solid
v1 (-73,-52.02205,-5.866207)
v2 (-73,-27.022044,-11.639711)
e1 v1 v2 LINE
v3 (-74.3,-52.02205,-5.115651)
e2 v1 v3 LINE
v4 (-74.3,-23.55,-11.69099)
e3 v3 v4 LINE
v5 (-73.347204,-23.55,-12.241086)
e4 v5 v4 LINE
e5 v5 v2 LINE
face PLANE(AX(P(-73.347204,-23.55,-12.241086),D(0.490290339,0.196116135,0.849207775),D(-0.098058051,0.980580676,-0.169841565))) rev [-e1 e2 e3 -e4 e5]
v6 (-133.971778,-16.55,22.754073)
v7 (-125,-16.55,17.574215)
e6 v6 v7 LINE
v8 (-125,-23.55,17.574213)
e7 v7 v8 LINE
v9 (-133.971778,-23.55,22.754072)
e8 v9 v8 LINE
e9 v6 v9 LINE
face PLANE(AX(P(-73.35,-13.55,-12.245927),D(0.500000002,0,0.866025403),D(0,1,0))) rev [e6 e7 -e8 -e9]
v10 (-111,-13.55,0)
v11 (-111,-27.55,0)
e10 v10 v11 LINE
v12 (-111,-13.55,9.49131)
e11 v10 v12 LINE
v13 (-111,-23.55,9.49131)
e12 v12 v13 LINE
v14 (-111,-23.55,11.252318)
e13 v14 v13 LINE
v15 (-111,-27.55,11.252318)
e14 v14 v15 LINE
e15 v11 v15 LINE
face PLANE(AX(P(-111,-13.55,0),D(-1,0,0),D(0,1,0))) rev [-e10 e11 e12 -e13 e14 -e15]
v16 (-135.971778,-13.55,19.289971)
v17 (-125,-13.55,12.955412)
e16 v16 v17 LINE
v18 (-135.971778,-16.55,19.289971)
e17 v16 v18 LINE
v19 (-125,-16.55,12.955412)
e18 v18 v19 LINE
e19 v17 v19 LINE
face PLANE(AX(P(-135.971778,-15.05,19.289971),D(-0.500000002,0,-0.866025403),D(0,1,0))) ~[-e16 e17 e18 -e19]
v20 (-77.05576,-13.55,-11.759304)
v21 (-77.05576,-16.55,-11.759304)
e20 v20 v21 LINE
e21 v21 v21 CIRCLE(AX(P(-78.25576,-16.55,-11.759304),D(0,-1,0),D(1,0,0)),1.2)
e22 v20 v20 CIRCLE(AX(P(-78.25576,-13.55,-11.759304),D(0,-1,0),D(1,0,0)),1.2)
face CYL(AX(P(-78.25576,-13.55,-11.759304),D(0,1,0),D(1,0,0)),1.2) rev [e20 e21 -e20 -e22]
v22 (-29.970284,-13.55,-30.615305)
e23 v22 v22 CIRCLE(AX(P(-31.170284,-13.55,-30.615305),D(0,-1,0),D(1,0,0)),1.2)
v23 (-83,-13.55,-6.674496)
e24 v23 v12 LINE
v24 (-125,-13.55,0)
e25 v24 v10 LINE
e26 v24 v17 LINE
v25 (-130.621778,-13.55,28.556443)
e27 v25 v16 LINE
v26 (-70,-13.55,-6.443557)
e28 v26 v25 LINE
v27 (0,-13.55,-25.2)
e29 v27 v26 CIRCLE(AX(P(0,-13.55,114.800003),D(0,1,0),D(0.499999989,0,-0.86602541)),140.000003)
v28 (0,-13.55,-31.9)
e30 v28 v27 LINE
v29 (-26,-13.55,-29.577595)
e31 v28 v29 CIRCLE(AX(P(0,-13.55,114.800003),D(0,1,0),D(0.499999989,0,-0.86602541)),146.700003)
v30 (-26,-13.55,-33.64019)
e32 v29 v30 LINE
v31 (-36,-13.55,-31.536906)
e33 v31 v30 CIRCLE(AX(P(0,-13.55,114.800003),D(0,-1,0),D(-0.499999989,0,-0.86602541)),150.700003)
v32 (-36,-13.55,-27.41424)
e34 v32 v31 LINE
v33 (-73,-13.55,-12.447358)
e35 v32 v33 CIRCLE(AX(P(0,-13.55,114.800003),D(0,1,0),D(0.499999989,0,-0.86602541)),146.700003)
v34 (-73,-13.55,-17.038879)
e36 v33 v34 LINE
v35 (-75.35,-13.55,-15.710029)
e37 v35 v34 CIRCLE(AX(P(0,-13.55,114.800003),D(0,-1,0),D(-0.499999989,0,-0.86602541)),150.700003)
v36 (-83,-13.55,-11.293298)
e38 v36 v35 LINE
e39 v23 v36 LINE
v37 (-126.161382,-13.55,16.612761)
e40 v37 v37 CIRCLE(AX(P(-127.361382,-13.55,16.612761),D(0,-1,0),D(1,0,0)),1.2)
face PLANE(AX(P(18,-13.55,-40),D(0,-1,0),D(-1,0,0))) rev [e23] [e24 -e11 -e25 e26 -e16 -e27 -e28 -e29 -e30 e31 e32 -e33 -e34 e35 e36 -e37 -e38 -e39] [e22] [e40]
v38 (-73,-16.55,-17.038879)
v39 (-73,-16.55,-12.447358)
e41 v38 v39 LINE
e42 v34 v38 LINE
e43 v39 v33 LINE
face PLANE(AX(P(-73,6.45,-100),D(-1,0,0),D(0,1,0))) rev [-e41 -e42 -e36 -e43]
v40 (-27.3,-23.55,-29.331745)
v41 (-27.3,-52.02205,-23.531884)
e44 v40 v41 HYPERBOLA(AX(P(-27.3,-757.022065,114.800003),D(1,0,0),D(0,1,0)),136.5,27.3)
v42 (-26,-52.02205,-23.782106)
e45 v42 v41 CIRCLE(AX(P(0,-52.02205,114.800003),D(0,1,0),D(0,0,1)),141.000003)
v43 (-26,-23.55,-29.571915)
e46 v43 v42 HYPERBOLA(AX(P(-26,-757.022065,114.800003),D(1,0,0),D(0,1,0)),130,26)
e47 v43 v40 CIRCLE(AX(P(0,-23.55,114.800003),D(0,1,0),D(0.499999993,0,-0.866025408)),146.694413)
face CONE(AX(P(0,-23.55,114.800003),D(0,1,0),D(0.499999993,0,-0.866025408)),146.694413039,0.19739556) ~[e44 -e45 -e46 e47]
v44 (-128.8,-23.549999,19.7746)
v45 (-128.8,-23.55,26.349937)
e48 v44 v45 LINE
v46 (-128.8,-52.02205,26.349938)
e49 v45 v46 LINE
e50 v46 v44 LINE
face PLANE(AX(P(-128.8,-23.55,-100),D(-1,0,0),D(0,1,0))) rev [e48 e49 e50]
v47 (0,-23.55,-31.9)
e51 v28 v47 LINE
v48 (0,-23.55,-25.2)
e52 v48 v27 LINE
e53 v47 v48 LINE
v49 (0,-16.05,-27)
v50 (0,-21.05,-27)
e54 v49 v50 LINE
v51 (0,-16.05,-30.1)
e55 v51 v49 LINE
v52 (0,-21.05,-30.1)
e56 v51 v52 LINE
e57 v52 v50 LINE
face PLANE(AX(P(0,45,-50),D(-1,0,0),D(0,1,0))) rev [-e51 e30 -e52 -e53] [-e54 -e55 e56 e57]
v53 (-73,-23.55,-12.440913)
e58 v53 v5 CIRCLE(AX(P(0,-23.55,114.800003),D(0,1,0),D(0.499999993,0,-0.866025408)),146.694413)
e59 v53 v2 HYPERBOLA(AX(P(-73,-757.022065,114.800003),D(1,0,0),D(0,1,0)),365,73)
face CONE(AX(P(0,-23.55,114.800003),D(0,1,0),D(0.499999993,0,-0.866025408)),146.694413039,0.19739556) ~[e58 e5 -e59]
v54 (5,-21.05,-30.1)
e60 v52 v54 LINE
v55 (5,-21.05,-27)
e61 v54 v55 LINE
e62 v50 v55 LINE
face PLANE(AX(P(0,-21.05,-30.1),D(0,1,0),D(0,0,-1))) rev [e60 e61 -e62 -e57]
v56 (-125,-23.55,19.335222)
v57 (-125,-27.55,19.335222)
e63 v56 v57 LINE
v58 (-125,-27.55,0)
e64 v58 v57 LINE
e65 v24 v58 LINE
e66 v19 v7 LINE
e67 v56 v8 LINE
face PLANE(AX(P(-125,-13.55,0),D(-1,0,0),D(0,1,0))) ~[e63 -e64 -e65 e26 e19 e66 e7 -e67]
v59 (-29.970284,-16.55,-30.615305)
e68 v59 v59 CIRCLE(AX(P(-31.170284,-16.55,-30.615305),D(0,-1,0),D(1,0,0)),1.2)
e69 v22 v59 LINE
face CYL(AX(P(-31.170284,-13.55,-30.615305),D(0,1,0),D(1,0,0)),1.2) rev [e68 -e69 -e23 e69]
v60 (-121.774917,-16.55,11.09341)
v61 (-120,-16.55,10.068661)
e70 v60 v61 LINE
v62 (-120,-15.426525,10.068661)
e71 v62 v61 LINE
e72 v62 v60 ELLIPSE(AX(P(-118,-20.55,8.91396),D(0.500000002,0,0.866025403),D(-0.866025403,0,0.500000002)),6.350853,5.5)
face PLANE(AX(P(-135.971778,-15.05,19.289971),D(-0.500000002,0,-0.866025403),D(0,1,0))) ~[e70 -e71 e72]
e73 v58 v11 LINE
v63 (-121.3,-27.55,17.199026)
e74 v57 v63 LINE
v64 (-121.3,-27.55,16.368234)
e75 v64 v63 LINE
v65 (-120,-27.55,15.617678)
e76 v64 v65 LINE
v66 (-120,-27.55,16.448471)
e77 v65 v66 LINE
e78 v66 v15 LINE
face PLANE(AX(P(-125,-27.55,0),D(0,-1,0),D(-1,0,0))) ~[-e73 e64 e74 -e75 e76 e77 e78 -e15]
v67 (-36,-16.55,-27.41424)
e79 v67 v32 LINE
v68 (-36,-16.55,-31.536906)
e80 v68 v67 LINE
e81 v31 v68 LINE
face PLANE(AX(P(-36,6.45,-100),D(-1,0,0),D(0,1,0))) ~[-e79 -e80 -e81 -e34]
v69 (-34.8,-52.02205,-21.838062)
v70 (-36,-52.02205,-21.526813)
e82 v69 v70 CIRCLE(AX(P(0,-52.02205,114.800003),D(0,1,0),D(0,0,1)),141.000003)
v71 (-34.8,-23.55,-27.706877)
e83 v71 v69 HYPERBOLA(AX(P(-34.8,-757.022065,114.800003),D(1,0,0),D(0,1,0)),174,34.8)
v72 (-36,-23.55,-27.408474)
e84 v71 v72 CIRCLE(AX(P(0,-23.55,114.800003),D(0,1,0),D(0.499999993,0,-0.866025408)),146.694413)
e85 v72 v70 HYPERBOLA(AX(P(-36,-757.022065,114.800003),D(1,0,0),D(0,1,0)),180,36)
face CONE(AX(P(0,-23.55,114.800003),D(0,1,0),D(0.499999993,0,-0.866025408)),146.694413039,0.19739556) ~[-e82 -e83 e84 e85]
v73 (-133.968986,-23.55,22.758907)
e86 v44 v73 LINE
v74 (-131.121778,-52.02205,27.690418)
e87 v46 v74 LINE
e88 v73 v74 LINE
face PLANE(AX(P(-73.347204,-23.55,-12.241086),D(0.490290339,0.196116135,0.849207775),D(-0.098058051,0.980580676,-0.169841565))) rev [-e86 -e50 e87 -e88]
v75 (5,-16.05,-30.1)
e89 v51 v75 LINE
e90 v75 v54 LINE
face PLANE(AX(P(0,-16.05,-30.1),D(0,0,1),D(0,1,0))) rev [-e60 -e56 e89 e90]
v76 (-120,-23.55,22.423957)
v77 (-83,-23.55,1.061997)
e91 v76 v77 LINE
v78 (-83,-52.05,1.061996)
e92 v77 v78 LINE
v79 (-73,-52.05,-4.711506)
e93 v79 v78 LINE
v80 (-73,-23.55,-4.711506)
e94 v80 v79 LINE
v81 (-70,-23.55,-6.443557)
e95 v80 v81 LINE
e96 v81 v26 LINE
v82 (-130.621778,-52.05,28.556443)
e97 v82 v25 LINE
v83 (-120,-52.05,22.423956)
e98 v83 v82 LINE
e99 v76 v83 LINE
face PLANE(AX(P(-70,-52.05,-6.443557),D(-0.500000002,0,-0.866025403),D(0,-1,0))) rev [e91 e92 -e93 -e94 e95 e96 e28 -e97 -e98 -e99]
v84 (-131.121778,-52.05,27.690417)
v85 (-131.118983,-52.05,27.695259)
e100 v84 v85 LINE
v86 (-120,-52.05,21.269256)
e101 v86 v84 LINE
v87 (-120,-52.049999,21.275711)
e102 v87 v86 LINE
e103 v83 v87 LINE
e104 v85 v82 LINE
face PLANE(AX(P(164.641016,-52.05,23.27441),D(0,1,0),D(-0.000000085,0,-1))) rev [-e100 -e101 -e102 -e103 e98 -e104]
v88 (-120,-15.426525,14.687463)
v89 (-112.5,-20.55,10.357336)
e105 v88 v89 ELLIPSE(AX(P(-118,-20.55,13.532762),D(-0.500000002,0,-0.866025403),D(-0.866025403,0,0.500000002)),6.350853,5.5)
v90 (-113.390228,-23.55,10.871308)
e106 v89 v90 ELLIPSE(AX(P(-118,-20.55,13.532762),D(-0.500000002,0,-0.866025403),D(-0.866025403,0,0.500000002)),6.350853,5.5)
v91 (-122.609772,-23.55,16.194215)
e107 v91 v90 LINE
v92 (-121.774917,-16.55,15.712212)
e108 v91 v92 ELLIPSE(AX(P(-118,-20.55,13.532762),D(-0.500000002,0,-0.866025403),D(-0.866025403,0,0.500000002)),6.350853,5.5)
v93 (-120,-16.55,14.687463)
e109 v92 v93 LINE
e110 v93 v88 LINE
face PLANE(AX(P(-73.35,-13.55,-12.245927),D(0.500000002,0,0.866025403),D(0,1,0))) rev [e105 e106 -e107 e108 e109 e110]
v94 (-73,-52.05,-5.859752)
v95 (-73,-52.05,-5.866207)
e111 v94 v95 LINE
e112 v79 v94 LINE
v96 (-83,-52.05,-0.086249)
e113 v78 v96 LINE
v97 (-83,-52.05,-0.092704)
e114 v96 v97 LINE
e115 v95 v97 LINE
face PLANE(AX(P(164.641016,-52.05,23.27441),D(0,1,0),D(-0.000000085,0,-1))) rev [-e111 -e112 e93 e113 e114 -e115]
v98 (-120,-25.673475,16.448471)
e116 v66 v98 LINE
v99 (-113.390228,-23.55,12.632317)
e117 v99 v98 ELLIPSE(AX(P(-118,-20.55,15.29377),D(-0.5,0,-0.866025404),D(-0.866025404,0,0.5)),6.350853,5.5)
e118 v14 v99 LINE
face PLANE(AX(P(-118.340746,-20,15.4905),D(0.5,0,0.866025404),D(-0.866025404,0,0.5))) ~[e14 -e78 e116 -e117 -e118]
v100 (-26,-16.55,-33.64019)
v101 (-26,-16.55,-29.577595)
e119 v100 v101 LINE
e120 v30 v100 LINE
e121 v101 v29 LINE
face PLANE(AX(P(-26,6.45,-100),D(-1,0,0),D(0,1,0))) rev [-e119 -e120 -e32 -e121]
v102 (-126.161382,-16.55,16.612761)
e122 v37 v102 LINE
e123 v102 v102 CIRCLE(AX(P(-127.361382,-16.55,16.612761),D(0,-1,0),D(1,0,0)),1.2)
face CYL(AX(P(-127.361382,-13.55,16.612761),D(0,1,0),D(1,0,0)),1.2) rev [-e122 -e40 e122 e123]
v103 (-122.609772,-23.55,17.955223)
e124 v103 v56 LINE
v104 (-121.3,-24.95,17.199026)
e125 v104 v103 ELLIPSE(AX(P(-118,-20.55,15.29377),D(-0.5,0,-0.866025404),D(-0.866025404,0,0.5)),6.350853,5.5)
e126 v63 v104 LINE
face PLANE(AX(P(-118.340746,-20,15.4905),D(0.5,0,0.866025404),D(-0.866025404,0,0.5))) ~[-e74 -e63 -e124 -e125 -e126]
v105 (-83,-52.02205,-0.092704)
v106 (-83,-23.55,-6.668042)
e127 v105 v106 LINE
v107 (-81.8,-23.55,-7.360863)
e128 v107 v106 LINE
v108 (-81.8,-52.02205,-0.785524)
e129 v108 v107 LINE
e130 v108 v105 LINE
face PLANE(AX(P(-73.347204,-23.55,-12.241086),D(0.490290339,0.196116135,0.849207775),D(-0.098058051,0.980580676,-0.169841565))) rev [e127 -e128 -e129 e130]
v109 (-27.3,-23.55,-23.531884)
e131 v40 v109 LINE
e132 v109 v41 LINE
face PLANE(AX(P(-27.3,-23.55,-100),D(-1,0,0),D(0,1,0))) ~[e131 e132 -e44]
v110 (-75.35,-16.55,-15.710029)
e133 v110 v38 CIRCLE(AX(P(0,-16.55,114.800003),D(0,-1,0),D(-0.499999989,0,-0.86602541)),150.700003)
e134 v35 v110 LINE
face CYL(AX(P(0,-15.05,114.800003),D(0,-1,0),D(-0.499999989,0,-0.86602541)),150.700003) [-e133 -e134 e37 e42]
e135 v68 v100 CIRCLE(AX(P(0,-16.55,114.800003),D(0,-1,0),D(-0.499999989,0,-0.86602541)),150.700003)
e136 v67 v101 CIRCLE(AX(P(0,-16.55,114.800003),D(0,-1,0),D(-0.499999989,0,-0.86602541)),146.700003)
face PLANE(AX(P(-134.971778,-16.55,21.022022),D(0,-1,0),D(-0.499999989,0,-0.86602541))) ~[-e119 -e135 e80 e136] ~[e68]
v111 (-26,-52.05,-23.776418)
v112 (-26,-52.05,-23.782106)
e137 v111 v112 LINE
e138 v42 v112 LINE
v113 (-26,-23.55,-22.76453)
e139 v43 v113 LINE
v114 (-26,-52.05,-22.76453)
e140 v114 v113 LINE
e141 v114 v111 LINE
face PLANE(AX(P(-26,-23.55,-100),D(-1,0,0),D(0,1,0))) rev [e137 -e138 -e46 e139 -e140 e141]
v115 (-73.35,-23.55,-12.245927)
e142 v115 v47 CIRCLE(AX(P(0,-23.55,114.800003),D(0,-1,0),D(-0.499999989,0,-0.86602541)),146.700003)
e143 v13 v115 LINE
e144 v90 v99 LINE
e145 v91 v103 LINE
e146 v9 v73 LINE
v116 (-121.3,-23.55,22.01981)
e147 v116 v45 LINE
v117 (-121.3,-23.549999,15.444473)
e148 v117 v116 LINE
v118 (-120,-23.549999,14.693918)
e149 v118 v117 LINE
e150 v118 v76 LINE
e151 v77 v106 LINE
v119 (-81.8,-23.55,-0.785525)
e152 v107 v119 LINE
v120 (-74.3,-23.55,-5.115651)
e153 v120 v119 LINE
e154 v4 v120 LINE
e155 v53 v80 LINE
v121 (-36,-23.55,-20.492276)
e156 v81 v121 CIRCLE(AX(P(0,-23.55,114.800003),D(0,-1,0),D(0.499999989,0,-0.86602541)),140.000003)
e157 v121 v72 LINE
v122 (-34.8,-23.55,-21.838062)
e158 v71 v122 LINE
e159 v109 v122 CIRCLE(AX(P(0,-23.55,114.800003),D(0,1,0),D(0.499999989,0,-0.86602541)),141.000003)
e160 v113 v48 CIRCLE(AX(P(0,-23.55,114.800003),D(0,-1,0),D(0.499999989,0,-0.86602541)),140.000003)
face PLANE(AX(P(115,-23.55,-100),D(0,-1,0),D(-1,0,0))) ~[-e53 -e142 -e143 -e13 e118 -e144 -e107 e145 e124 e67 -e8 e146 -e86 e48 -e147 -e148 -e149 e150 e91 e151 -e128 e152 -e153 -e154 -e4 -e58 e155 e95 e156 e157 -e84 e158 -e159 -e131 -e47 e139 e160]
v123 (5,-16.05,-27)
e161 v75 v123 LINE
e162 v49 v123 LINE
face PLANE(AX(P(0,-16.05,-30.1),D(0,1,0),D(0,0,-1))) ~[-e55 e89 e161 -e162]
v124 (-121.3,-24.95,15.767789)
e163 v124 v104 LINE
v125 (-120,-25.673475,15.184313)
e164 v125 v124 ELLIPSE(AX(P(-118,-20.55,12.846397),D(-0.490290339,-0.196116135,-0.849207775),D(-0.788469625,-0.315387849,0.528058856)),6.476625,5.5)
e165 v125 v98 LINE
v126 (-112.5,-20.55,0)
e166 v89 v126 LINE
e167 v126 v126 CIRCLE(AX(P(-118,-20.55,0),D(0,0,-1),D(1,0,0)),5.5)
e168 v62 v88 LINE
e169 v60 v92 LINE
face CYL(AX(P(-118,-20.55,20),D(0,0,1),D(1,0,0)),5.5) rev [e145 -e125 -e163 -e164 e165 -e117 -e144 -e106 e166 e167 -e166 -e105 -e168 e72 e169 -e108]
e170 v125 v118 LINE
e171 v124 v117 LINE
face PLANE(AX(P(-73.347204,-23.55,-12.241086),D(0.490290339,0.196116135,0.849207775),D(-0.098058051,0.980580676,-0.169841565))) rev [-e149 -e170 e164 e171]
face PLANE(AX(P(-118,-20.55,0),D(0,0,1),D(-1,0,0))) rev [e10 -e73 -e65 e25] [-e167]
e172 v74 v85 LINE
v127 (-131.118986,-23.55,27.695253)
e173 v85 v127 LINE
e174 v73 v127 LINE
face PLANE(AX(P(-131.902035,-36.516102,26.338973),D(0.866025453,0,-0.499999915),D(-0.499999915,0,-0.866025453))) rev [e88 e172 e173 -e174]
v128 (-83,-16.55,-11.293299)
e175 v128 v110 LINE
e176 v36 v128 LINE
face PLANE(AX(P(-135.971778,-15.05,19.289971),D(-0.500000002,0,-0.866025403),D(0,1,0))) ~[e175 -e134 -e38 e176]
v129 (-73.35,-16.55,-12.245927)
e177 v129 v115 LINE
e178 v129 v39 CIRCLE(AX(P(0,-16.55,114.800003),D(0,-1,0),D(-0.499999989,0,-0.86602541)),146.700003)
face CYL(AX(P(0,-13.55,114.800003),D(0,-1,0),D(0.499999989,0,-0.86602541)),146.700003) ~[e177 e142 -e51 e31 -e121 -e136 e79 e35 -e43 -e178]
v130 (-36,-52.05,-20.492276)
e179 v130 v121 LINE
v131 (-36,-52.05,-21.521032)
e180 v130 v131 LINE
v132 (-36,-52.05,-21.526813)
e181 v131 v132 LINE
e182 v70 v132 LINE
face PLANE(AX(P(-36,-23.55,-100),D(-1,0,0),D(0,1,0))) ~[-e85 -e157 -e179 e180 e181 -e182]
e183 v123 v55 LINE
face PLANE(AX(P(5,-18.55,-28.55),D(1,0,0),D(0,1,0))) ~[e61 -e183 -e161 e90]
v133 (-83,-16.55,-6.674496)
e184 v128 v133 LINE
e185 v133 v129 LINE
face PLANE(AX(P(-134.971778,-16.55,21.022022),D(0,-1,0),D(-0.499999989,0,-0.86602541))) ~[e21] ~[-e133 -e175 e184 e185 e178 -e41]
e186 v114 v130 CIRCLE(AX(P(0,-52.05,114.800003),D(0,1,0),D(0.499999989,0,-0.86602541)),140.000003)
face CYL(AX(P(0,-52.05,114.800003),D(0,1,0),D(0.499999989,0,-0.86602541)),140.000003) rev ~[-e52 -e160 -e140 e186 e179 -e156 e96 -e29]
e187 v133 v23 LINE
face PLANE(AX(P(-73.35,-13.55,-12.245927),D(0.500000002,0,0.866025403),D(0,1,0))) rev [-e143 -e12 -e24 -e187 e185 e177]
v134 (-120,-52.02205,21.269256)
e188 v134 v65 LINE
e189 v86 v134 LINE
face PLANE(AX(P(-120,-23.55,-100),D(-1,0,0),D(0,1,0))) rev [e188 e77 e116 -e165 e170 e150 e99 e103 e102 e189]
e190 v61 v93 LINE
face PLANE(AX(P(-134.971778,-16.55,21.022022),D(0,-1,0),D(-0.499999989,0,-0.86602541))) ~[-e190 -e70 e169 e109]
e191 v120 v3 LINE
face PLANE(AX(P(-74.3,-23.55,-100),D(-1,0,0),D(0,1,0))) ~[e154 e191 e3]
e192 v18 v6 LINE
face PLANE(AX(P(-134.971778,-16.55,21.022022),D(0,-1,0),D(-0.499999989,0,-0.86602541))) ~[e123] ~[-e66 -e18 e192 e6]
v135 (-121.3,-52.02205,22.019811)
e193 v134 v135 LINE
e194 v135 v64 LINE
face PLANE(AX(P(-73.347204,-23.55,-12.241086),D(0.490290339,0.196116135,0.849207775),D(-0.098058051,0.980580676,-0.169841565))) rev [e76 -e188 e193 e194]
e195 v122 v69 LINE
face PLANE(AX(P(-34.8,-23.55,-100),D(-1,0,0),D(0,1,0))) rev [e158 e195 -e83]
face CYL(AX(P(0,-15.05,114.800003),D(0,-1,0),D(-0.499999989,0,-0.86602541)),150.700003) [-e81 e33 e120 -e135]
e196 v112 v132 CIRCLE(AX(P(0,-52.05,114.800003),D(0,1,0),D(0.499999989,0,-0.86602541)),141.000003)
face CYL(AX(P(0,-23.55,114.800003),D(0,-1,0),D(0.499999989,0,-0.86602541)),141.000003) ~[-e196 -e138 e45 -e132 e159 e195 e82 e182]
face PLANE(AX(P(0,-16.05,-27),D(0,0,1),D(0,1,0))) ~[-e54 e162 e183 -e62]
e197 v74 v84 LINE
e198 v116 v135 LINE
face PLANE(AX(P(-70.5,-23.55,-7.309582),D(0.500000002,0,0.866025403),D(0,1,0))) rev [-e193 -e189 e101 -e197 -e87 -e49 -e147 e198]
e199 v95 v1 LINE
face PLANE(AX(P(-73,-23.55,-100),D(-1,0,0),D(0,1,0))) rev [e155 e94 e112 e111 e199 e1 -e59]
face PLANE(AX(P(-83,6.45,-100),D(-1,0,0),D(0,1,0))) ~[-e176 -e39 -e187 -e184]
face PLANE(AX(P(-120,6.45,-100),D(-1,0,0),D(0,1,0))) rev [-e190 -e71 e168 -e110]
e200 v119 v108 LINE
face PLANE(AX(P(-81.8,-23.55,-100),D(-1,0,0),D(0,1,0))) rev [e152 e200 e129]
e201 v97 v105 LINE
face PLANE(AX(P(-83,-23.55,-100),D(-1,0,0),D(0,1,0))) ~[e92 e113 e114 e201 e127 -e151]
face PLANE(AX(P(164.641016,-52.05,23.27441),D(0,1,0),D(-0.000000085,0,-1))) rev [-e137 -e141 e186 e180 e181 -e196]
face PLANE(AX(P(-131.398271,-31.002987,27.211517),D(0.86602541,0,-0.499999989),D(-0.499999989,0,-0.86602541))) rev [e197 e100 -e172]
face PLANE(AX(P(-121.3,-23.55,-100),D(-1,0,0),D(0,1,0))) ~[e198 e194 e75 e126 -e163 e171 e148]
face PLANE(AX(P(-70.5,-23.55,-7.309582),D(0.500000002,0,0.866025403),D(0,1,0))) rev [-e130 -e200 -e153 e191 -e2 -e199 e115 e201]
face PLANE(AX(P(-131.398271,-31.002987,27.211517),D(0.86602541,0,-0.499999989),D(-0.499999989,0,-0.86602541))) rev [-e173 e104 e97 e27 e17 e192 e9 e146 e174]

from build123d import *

# Parameters (mm, degrees)
BOX010_W               = 200
BOX010_H               = 100
BOX010_DEPTH           = 100
BOX008_W               = 20
BOX008_H               = 20
BOX008_DEPTH           = 20
BOX008_PLACEMENT_ANGLE = 30
BOX011_W               = 14
BOX011_H               = 14
BOX011_DEPTH           = 20
SKETCH039_R            = 5.5
POCKET007_DEPTH        = 20.001
BOX014_W               = 7.5
BOX014_H               = 60
BOX014_DEPTH           = 200
ARRAY002_X_COUNT       = 7
ARRAY002_X_PITCH       = 47
BOX006_W               = 37
BOX006_H               = 60
BOX006_DEPTH           = 200
ARRAY_X_COUNT          = 6
ARRAY_X_PITCH          = 47
BOX012_W               = 14
BOX012_H               = 14
BOX012_DEPTH           = 12
SKETCH032_R            = 5.5
POCKET009_DEPTH        = 12.001
BOX013_W               = 14
BOX013_H               = 14
BOX013_DEPTH           = 12
SKETCH034_R            = 5.5
POCKET008_DEPTH        = 12.001
BOX009_W               = 37
BOX009_H               = 60
BOX009_DEPTH           = 200
ARRAY001_X_COUNT       = 6
ARRAY001_X_PITCH       = 47
SKETCH035_W            = 3
SKETCH035_H            = 4
SKETCH036_R            = 1.2
POCKET006_DEPTH        = 3.001
SKETCH037_W            = 5
SKETCH037_H            = 3.1
PAD022_DEPTH           = 5


with BuildPart() as bigleft:
    # Box010 → Box010 (new body)
    with BuildSketch(Plane(origin=(0, -50, -50), x_dir=(1, 0, 0), z_dir=(0, 0, 1))):
        with Locations((100, 50)):
            Rectangle(BOX010_W, BOX010_H)
    extrude(amount=BOX010_DEPTH)


with BuildPart() as pillar_cut_cube_l:
    # Box008 → Box008 (new body)
    with BuildSketch(Plane.XY):
        with Locations((10, 10)):
            Rectangle(BOX008_W, BOX008_H)
    extrude(amount=BOX008_DEPTH)


with BuildPart() as pillar_cut_cube_l_1:
    # Box008 placement: moved
    add(pillar_cut_cube_l.part.moved(Location((-127.001, 5, 20.4905))).rotate(Axis((-127.001, 5, 20.4905), (0, 1, 0)), BOX008_PLACEMENT_ANGLE))


with BuildPart() as cut011:
    # Box011 → Box011 (new body)
    with BuildSketch(Plane(origin=(-125, 8.55, 0), x_dir=(1, 0, 0), z_dir=(0, 0, 1))):
        with Locations((7, 7)):
            Rectangle(BOX011_W, BOX011_H)
    extrude(amount=BOX011_DEPTH)

    # Sketch039 → Pocket007 (cut, through all)
    with BuildSketch(Plane(origin=(-125, 8.55, 20), x_dir=(1, 0, 0), z_dir=(0, 0, 1))):
        with Locations((7, 7)):
            Circle(SKETCH039_R)
    extrude(amount=-POCKET007_DEPTH, mode=Mode.SUBTRACT)

    # Cut011: cut pillar_cut_cube_l
    add(pillar_cut_cube_l_1.part, mode=Mode.SUBTRACT)


with BuildPart() as array002:
    # Box014 → Box014 (new body)
    with BuildSketch(Plane(origin=(-128.8, 18.55, -100), x_dir=(1, 0, 0), z_dir=(0, 0, 1))):
        with Locations((3.75, 30)):
            Rectangle(BOX014_W, BOX014_H)
    extrude(amount=BOX014_DEPTH)

    # Array002 X: Array002 ×7


with BuildPart() as array002_1:
    add(array002.part)
    with Locations(*[(i * ARRAY002_X_PITCH, 0, 0) for i in range(1, ARRAY002_X_COUNT)]):
        add(array002.part)


with BuildPart() as rail_cut_cube_array_b:
    # Box006 → Box006 (new body)
    with BuildSketch(Plane(origin=(-120, 18.55, -100), x_dir=(1, 0, 0), z_dir=(0, 0, 1))):
        with Locations((18.5, 30)):
            Rectangle(BOX006_W, BOX006_H)
    extrude(amount=BOX006_DEPTH)

    # Array X: rail_cut_cube_array_b ×6


with BuildPart() as rail_cut_cube_array_b_1:
    add(rail_cut_cube_array_b.part)
    with Locations(*[(i * ARRAY_X_PITCH, 0, 0) for i in range(1, ARRAY_X_COUNT)]):
        add(rail_cut_cube_array_b.part)


with BuildPart() as cut013:
    # Sweep002: sweep along a path in Sketch028
    with BuildLine(Plane.XZ) as sweep002_path:
        Line((164.641016, 24.27441), (144.641016, 24.27441))
        ThreePointArc((144.641016, 24.27441), (123.935493, 21.548477), (104.641016, 13.556443))
        Line((104.641016, 13.556443), (70, -6.443557))
        ThreePointArc((70, -6.443557), (0, -25.2), (-70, -6.443557))
        Line((-70, -6.443557), (-130.621778, 28.556443))
    # Sketch043 → Sweep002 (sweep)
    with BuildSketch(Plane.YZ.offset(164.641016)):
        Polygon((18.55, 17.58), (47.05, 23.28), (18.55, 23.28), align=None)
    sweep(path=sweep002_path.line)

    # Cut012: cut rail_cut_cube_array_b
    add(rail_cut_cube_array_b_1.part, mode=Mode.SUBTRACT)

    # Cut013: cut Array002
    add(array002_1.part, mode=Mode.SUBTRACT)


with BuildPart() as rail_cut_b:
    # Sweep: sweep along a path in Sketch028
    with BuildLine(Plane.XZ) as sweep_path:
        Line((164.641016, 24.27441), (144.641016, 24.27441))
        ThreePointArc((144.641016, 24.27441), (123.935493, 21.548477), (104.641016, 13.556443))
        Line((104.641016, 13.556443), (70, -6.443557))
        ThreePointArc((70, -6.443557), (0, -25.2), (-70, -6.443557))
        Line((-70, -6.443557), (-130.621778, 28.556443))
    # Sketch029 → Sweep (sweep)
    with BuildSketch(Plane.YZ):
        Polygon((-19.25, -25.2), (-19.25, -31.9), (-9.25, -31.9), (-9.25, -26.2), (19.25, -26.2), (19.25, -25.2), align=None)
    sweep(path=sweep_path.line)


with BuildPart() as rail_cut_b_1:
    # Sweep placement: moved
    add(rail_cut_b.part.moved(Location((0, 27.8, 0))))

    # Cut007: cut rail_cut_cube_array_b
    add(rail_cut_cube_array_b_1.part, mode=Mode.SUBTRACT)


with BuildPart() as pillar_hollow_r:
    # Box012 → Box012 (new body)
    with BuildSketch(Plane(origin=(143, 8.55, 7), x_dir=(1, 0, 0), z_dir=(0, 0, 1))):
        with Locations((7, 7)):
            Rectangle(BOX012_W, BOX012_H)
    extrude(amount=BOX012_DEPTH)

    # Sketch032 → Pocket009 (cut, through all)
    with BuildSketch(Plane(origin=(143, 8.55, 19), x_dir=(1, 0, 0), z_dir=(0, 0, 1))):
        with Locations((7, 7)):
            Circle(SKETCH032_R)
    extrude(amount=-POCKET009_DEPTH, mode=Mode.SUBTRACT)


with BuildPart() as pillar_hollow_m:
    # Box013 → Box013 (new body)
    with BuildSketch(Plane(origin=(18, 8.55, -40), x_dir=(1, 0, 0), z_dir=(0, 0, 1))):
        with Locations((7, 7)):
            Rectangle(BOX013_W, BOX013_H)
    extrude(amount=BOX013_DEPTH)

    # Sketch034 → Pocket008 (cut, through all)
    with BuildSketch(Plane(origin=(18, 8.55, -28), x_dir=(1, 0, 0), z_dir=(0, 0, 1))):
        with Locations((7, 7)):
            Circle(SKETCH034_R)
    extrude(amount=-POCKET008_DEPTH, mode=Mode.SUBTRACT)


with BuildPart() as mount_cube_array_b:
    # Box009 → Box009 (new body)
    with BuildSketch(Plane(origin=(-120, 18.55, -100), x_dir=(1, 0, 0), z_dir=(0, 0, 1))):
        with Locations((18.5, 30)):
            Rectangle(BOX009_W, BOX009_H)
    extrude(amount=BOX009_DEPTH)

    # Array001 X: mount_cube_array_b ×6


with BuildPart() as mount_cube_array_b_1:
    add(mount_cube_array_b.part)
    with Locations(*[(i * ARRAY001_X_PITCH, 0, 0) for i in range(1, ARRAY001_X_COUNT)]):
        add(mount_cube_array_b.part)


with BuildPart() as mount_cube_array_b_2:
    # Array001 placement: moved
    add(mount_cube_array_b_1.part.moved(Location((0, -30, 0))))


with BuildPart() as cut014:
    # Sweep001: sweep along a path in Sketch028
    with BuildLine(Plane.XZ) as sweep001_path:
        Line((-130.621778, 28.556443), (-70, -6.443557))
        ThreePointArc((-70, -6.443557), (0, -25.2), (70, -6.443557))
        Line((70, -6.443557), (104.641016, 13.556443))
        ThreePointArc((104.641016, 13.556443), (123.935493, 21.548477), (144.641016, 24.27441))
        Line((144.641016, 24.27441), (164.641016, 24.27441))
    # Sketch035 → Sweep001 (sweep)
    with BuildSketch(Plane.YZ):
        with Locations((-17.75, -33.9)):
            Rectangle(SKETCH035_W, SKETCH035_H)
    sweep(path=sweep001_path.line)


with BuildPart() as cut014_1:
    # Sweep001 placement: moved
    add(cut014.part.moved(Location((0, 27.8, 0))))

    # Sketch036 → Pocket006 (cut, through all)
    with BuildSketch(Plane.XZ.offset(-8.55)):
        with Locations((-127.361382, 16.612761)):
            Circle(SKETCH036_R)
        with Locations((-78.25576, -11.759304)):
            Circle(SKETCH036_R)
        with Locations((-31.170284, -30.615305)):
            Circle(SKETCH036_R)
        with Locations((15.982787, -32.973976)):
            Circle(SKETCH036_R)
        with Locations((62.801571, -19.921701)):
            Circle(SKETCH036_R)
        with Locations((109.81105, 6.487408)):
            Circle(SKETCH036_R)
        with Locations((158.314011, 15.583238)):
            Circle(SKETCH036_R)
    extrude(amount=-POCKET006_DEPTH, mode=Mode.SUBTRACT)

    # Cut010: cut mount_cube_array_b
    add(mount_cube_array_b_2.part, mode=Mode.SUBTRACT)

    # Fusion003: union Cut011, Cut013, rail_cut_b, pillar_hollow_r, pillar_hollow_m
    add(cut011.part)
    add(cut013.part)
    add(rail_cut_b_1.part)
    add(pillar_hollow_r.part)
    add(pillar_hollow_m.part)

    # Cut014: cut bigleft
    add(bigleft.part, mode=Mode.SUBTRACT)


with BuildPart() as clone_of_fusion004:
    # Sketch037 → Pad022 (new body)
    with BuildSketch(Plane.YZ):
        with Locations((13.55, -28.55)):
            Rectangle(SKETCH037_W, SKETCH037_H)
    extrude(amount=PAD022_DEPTH)

    # Fusion004: union Cut014
    add(cut014_1.part)


with BuildPart() as rail_fl:
    # Part__Mirroring: instance of Clone of Fusion004
    add(clone_of_fusion004.part.mirror(Plane(origin=(0, 0, 0), x_dir=(1, 0, 0), z_dir=(0, 1, 0))))


with BuildPart() as rail_fl_1:
    # Part__Mirroring placement: moved
    add(rail_fl.part.moved(Location((0, -5, 0))))


solid = rail_fl_1.part
